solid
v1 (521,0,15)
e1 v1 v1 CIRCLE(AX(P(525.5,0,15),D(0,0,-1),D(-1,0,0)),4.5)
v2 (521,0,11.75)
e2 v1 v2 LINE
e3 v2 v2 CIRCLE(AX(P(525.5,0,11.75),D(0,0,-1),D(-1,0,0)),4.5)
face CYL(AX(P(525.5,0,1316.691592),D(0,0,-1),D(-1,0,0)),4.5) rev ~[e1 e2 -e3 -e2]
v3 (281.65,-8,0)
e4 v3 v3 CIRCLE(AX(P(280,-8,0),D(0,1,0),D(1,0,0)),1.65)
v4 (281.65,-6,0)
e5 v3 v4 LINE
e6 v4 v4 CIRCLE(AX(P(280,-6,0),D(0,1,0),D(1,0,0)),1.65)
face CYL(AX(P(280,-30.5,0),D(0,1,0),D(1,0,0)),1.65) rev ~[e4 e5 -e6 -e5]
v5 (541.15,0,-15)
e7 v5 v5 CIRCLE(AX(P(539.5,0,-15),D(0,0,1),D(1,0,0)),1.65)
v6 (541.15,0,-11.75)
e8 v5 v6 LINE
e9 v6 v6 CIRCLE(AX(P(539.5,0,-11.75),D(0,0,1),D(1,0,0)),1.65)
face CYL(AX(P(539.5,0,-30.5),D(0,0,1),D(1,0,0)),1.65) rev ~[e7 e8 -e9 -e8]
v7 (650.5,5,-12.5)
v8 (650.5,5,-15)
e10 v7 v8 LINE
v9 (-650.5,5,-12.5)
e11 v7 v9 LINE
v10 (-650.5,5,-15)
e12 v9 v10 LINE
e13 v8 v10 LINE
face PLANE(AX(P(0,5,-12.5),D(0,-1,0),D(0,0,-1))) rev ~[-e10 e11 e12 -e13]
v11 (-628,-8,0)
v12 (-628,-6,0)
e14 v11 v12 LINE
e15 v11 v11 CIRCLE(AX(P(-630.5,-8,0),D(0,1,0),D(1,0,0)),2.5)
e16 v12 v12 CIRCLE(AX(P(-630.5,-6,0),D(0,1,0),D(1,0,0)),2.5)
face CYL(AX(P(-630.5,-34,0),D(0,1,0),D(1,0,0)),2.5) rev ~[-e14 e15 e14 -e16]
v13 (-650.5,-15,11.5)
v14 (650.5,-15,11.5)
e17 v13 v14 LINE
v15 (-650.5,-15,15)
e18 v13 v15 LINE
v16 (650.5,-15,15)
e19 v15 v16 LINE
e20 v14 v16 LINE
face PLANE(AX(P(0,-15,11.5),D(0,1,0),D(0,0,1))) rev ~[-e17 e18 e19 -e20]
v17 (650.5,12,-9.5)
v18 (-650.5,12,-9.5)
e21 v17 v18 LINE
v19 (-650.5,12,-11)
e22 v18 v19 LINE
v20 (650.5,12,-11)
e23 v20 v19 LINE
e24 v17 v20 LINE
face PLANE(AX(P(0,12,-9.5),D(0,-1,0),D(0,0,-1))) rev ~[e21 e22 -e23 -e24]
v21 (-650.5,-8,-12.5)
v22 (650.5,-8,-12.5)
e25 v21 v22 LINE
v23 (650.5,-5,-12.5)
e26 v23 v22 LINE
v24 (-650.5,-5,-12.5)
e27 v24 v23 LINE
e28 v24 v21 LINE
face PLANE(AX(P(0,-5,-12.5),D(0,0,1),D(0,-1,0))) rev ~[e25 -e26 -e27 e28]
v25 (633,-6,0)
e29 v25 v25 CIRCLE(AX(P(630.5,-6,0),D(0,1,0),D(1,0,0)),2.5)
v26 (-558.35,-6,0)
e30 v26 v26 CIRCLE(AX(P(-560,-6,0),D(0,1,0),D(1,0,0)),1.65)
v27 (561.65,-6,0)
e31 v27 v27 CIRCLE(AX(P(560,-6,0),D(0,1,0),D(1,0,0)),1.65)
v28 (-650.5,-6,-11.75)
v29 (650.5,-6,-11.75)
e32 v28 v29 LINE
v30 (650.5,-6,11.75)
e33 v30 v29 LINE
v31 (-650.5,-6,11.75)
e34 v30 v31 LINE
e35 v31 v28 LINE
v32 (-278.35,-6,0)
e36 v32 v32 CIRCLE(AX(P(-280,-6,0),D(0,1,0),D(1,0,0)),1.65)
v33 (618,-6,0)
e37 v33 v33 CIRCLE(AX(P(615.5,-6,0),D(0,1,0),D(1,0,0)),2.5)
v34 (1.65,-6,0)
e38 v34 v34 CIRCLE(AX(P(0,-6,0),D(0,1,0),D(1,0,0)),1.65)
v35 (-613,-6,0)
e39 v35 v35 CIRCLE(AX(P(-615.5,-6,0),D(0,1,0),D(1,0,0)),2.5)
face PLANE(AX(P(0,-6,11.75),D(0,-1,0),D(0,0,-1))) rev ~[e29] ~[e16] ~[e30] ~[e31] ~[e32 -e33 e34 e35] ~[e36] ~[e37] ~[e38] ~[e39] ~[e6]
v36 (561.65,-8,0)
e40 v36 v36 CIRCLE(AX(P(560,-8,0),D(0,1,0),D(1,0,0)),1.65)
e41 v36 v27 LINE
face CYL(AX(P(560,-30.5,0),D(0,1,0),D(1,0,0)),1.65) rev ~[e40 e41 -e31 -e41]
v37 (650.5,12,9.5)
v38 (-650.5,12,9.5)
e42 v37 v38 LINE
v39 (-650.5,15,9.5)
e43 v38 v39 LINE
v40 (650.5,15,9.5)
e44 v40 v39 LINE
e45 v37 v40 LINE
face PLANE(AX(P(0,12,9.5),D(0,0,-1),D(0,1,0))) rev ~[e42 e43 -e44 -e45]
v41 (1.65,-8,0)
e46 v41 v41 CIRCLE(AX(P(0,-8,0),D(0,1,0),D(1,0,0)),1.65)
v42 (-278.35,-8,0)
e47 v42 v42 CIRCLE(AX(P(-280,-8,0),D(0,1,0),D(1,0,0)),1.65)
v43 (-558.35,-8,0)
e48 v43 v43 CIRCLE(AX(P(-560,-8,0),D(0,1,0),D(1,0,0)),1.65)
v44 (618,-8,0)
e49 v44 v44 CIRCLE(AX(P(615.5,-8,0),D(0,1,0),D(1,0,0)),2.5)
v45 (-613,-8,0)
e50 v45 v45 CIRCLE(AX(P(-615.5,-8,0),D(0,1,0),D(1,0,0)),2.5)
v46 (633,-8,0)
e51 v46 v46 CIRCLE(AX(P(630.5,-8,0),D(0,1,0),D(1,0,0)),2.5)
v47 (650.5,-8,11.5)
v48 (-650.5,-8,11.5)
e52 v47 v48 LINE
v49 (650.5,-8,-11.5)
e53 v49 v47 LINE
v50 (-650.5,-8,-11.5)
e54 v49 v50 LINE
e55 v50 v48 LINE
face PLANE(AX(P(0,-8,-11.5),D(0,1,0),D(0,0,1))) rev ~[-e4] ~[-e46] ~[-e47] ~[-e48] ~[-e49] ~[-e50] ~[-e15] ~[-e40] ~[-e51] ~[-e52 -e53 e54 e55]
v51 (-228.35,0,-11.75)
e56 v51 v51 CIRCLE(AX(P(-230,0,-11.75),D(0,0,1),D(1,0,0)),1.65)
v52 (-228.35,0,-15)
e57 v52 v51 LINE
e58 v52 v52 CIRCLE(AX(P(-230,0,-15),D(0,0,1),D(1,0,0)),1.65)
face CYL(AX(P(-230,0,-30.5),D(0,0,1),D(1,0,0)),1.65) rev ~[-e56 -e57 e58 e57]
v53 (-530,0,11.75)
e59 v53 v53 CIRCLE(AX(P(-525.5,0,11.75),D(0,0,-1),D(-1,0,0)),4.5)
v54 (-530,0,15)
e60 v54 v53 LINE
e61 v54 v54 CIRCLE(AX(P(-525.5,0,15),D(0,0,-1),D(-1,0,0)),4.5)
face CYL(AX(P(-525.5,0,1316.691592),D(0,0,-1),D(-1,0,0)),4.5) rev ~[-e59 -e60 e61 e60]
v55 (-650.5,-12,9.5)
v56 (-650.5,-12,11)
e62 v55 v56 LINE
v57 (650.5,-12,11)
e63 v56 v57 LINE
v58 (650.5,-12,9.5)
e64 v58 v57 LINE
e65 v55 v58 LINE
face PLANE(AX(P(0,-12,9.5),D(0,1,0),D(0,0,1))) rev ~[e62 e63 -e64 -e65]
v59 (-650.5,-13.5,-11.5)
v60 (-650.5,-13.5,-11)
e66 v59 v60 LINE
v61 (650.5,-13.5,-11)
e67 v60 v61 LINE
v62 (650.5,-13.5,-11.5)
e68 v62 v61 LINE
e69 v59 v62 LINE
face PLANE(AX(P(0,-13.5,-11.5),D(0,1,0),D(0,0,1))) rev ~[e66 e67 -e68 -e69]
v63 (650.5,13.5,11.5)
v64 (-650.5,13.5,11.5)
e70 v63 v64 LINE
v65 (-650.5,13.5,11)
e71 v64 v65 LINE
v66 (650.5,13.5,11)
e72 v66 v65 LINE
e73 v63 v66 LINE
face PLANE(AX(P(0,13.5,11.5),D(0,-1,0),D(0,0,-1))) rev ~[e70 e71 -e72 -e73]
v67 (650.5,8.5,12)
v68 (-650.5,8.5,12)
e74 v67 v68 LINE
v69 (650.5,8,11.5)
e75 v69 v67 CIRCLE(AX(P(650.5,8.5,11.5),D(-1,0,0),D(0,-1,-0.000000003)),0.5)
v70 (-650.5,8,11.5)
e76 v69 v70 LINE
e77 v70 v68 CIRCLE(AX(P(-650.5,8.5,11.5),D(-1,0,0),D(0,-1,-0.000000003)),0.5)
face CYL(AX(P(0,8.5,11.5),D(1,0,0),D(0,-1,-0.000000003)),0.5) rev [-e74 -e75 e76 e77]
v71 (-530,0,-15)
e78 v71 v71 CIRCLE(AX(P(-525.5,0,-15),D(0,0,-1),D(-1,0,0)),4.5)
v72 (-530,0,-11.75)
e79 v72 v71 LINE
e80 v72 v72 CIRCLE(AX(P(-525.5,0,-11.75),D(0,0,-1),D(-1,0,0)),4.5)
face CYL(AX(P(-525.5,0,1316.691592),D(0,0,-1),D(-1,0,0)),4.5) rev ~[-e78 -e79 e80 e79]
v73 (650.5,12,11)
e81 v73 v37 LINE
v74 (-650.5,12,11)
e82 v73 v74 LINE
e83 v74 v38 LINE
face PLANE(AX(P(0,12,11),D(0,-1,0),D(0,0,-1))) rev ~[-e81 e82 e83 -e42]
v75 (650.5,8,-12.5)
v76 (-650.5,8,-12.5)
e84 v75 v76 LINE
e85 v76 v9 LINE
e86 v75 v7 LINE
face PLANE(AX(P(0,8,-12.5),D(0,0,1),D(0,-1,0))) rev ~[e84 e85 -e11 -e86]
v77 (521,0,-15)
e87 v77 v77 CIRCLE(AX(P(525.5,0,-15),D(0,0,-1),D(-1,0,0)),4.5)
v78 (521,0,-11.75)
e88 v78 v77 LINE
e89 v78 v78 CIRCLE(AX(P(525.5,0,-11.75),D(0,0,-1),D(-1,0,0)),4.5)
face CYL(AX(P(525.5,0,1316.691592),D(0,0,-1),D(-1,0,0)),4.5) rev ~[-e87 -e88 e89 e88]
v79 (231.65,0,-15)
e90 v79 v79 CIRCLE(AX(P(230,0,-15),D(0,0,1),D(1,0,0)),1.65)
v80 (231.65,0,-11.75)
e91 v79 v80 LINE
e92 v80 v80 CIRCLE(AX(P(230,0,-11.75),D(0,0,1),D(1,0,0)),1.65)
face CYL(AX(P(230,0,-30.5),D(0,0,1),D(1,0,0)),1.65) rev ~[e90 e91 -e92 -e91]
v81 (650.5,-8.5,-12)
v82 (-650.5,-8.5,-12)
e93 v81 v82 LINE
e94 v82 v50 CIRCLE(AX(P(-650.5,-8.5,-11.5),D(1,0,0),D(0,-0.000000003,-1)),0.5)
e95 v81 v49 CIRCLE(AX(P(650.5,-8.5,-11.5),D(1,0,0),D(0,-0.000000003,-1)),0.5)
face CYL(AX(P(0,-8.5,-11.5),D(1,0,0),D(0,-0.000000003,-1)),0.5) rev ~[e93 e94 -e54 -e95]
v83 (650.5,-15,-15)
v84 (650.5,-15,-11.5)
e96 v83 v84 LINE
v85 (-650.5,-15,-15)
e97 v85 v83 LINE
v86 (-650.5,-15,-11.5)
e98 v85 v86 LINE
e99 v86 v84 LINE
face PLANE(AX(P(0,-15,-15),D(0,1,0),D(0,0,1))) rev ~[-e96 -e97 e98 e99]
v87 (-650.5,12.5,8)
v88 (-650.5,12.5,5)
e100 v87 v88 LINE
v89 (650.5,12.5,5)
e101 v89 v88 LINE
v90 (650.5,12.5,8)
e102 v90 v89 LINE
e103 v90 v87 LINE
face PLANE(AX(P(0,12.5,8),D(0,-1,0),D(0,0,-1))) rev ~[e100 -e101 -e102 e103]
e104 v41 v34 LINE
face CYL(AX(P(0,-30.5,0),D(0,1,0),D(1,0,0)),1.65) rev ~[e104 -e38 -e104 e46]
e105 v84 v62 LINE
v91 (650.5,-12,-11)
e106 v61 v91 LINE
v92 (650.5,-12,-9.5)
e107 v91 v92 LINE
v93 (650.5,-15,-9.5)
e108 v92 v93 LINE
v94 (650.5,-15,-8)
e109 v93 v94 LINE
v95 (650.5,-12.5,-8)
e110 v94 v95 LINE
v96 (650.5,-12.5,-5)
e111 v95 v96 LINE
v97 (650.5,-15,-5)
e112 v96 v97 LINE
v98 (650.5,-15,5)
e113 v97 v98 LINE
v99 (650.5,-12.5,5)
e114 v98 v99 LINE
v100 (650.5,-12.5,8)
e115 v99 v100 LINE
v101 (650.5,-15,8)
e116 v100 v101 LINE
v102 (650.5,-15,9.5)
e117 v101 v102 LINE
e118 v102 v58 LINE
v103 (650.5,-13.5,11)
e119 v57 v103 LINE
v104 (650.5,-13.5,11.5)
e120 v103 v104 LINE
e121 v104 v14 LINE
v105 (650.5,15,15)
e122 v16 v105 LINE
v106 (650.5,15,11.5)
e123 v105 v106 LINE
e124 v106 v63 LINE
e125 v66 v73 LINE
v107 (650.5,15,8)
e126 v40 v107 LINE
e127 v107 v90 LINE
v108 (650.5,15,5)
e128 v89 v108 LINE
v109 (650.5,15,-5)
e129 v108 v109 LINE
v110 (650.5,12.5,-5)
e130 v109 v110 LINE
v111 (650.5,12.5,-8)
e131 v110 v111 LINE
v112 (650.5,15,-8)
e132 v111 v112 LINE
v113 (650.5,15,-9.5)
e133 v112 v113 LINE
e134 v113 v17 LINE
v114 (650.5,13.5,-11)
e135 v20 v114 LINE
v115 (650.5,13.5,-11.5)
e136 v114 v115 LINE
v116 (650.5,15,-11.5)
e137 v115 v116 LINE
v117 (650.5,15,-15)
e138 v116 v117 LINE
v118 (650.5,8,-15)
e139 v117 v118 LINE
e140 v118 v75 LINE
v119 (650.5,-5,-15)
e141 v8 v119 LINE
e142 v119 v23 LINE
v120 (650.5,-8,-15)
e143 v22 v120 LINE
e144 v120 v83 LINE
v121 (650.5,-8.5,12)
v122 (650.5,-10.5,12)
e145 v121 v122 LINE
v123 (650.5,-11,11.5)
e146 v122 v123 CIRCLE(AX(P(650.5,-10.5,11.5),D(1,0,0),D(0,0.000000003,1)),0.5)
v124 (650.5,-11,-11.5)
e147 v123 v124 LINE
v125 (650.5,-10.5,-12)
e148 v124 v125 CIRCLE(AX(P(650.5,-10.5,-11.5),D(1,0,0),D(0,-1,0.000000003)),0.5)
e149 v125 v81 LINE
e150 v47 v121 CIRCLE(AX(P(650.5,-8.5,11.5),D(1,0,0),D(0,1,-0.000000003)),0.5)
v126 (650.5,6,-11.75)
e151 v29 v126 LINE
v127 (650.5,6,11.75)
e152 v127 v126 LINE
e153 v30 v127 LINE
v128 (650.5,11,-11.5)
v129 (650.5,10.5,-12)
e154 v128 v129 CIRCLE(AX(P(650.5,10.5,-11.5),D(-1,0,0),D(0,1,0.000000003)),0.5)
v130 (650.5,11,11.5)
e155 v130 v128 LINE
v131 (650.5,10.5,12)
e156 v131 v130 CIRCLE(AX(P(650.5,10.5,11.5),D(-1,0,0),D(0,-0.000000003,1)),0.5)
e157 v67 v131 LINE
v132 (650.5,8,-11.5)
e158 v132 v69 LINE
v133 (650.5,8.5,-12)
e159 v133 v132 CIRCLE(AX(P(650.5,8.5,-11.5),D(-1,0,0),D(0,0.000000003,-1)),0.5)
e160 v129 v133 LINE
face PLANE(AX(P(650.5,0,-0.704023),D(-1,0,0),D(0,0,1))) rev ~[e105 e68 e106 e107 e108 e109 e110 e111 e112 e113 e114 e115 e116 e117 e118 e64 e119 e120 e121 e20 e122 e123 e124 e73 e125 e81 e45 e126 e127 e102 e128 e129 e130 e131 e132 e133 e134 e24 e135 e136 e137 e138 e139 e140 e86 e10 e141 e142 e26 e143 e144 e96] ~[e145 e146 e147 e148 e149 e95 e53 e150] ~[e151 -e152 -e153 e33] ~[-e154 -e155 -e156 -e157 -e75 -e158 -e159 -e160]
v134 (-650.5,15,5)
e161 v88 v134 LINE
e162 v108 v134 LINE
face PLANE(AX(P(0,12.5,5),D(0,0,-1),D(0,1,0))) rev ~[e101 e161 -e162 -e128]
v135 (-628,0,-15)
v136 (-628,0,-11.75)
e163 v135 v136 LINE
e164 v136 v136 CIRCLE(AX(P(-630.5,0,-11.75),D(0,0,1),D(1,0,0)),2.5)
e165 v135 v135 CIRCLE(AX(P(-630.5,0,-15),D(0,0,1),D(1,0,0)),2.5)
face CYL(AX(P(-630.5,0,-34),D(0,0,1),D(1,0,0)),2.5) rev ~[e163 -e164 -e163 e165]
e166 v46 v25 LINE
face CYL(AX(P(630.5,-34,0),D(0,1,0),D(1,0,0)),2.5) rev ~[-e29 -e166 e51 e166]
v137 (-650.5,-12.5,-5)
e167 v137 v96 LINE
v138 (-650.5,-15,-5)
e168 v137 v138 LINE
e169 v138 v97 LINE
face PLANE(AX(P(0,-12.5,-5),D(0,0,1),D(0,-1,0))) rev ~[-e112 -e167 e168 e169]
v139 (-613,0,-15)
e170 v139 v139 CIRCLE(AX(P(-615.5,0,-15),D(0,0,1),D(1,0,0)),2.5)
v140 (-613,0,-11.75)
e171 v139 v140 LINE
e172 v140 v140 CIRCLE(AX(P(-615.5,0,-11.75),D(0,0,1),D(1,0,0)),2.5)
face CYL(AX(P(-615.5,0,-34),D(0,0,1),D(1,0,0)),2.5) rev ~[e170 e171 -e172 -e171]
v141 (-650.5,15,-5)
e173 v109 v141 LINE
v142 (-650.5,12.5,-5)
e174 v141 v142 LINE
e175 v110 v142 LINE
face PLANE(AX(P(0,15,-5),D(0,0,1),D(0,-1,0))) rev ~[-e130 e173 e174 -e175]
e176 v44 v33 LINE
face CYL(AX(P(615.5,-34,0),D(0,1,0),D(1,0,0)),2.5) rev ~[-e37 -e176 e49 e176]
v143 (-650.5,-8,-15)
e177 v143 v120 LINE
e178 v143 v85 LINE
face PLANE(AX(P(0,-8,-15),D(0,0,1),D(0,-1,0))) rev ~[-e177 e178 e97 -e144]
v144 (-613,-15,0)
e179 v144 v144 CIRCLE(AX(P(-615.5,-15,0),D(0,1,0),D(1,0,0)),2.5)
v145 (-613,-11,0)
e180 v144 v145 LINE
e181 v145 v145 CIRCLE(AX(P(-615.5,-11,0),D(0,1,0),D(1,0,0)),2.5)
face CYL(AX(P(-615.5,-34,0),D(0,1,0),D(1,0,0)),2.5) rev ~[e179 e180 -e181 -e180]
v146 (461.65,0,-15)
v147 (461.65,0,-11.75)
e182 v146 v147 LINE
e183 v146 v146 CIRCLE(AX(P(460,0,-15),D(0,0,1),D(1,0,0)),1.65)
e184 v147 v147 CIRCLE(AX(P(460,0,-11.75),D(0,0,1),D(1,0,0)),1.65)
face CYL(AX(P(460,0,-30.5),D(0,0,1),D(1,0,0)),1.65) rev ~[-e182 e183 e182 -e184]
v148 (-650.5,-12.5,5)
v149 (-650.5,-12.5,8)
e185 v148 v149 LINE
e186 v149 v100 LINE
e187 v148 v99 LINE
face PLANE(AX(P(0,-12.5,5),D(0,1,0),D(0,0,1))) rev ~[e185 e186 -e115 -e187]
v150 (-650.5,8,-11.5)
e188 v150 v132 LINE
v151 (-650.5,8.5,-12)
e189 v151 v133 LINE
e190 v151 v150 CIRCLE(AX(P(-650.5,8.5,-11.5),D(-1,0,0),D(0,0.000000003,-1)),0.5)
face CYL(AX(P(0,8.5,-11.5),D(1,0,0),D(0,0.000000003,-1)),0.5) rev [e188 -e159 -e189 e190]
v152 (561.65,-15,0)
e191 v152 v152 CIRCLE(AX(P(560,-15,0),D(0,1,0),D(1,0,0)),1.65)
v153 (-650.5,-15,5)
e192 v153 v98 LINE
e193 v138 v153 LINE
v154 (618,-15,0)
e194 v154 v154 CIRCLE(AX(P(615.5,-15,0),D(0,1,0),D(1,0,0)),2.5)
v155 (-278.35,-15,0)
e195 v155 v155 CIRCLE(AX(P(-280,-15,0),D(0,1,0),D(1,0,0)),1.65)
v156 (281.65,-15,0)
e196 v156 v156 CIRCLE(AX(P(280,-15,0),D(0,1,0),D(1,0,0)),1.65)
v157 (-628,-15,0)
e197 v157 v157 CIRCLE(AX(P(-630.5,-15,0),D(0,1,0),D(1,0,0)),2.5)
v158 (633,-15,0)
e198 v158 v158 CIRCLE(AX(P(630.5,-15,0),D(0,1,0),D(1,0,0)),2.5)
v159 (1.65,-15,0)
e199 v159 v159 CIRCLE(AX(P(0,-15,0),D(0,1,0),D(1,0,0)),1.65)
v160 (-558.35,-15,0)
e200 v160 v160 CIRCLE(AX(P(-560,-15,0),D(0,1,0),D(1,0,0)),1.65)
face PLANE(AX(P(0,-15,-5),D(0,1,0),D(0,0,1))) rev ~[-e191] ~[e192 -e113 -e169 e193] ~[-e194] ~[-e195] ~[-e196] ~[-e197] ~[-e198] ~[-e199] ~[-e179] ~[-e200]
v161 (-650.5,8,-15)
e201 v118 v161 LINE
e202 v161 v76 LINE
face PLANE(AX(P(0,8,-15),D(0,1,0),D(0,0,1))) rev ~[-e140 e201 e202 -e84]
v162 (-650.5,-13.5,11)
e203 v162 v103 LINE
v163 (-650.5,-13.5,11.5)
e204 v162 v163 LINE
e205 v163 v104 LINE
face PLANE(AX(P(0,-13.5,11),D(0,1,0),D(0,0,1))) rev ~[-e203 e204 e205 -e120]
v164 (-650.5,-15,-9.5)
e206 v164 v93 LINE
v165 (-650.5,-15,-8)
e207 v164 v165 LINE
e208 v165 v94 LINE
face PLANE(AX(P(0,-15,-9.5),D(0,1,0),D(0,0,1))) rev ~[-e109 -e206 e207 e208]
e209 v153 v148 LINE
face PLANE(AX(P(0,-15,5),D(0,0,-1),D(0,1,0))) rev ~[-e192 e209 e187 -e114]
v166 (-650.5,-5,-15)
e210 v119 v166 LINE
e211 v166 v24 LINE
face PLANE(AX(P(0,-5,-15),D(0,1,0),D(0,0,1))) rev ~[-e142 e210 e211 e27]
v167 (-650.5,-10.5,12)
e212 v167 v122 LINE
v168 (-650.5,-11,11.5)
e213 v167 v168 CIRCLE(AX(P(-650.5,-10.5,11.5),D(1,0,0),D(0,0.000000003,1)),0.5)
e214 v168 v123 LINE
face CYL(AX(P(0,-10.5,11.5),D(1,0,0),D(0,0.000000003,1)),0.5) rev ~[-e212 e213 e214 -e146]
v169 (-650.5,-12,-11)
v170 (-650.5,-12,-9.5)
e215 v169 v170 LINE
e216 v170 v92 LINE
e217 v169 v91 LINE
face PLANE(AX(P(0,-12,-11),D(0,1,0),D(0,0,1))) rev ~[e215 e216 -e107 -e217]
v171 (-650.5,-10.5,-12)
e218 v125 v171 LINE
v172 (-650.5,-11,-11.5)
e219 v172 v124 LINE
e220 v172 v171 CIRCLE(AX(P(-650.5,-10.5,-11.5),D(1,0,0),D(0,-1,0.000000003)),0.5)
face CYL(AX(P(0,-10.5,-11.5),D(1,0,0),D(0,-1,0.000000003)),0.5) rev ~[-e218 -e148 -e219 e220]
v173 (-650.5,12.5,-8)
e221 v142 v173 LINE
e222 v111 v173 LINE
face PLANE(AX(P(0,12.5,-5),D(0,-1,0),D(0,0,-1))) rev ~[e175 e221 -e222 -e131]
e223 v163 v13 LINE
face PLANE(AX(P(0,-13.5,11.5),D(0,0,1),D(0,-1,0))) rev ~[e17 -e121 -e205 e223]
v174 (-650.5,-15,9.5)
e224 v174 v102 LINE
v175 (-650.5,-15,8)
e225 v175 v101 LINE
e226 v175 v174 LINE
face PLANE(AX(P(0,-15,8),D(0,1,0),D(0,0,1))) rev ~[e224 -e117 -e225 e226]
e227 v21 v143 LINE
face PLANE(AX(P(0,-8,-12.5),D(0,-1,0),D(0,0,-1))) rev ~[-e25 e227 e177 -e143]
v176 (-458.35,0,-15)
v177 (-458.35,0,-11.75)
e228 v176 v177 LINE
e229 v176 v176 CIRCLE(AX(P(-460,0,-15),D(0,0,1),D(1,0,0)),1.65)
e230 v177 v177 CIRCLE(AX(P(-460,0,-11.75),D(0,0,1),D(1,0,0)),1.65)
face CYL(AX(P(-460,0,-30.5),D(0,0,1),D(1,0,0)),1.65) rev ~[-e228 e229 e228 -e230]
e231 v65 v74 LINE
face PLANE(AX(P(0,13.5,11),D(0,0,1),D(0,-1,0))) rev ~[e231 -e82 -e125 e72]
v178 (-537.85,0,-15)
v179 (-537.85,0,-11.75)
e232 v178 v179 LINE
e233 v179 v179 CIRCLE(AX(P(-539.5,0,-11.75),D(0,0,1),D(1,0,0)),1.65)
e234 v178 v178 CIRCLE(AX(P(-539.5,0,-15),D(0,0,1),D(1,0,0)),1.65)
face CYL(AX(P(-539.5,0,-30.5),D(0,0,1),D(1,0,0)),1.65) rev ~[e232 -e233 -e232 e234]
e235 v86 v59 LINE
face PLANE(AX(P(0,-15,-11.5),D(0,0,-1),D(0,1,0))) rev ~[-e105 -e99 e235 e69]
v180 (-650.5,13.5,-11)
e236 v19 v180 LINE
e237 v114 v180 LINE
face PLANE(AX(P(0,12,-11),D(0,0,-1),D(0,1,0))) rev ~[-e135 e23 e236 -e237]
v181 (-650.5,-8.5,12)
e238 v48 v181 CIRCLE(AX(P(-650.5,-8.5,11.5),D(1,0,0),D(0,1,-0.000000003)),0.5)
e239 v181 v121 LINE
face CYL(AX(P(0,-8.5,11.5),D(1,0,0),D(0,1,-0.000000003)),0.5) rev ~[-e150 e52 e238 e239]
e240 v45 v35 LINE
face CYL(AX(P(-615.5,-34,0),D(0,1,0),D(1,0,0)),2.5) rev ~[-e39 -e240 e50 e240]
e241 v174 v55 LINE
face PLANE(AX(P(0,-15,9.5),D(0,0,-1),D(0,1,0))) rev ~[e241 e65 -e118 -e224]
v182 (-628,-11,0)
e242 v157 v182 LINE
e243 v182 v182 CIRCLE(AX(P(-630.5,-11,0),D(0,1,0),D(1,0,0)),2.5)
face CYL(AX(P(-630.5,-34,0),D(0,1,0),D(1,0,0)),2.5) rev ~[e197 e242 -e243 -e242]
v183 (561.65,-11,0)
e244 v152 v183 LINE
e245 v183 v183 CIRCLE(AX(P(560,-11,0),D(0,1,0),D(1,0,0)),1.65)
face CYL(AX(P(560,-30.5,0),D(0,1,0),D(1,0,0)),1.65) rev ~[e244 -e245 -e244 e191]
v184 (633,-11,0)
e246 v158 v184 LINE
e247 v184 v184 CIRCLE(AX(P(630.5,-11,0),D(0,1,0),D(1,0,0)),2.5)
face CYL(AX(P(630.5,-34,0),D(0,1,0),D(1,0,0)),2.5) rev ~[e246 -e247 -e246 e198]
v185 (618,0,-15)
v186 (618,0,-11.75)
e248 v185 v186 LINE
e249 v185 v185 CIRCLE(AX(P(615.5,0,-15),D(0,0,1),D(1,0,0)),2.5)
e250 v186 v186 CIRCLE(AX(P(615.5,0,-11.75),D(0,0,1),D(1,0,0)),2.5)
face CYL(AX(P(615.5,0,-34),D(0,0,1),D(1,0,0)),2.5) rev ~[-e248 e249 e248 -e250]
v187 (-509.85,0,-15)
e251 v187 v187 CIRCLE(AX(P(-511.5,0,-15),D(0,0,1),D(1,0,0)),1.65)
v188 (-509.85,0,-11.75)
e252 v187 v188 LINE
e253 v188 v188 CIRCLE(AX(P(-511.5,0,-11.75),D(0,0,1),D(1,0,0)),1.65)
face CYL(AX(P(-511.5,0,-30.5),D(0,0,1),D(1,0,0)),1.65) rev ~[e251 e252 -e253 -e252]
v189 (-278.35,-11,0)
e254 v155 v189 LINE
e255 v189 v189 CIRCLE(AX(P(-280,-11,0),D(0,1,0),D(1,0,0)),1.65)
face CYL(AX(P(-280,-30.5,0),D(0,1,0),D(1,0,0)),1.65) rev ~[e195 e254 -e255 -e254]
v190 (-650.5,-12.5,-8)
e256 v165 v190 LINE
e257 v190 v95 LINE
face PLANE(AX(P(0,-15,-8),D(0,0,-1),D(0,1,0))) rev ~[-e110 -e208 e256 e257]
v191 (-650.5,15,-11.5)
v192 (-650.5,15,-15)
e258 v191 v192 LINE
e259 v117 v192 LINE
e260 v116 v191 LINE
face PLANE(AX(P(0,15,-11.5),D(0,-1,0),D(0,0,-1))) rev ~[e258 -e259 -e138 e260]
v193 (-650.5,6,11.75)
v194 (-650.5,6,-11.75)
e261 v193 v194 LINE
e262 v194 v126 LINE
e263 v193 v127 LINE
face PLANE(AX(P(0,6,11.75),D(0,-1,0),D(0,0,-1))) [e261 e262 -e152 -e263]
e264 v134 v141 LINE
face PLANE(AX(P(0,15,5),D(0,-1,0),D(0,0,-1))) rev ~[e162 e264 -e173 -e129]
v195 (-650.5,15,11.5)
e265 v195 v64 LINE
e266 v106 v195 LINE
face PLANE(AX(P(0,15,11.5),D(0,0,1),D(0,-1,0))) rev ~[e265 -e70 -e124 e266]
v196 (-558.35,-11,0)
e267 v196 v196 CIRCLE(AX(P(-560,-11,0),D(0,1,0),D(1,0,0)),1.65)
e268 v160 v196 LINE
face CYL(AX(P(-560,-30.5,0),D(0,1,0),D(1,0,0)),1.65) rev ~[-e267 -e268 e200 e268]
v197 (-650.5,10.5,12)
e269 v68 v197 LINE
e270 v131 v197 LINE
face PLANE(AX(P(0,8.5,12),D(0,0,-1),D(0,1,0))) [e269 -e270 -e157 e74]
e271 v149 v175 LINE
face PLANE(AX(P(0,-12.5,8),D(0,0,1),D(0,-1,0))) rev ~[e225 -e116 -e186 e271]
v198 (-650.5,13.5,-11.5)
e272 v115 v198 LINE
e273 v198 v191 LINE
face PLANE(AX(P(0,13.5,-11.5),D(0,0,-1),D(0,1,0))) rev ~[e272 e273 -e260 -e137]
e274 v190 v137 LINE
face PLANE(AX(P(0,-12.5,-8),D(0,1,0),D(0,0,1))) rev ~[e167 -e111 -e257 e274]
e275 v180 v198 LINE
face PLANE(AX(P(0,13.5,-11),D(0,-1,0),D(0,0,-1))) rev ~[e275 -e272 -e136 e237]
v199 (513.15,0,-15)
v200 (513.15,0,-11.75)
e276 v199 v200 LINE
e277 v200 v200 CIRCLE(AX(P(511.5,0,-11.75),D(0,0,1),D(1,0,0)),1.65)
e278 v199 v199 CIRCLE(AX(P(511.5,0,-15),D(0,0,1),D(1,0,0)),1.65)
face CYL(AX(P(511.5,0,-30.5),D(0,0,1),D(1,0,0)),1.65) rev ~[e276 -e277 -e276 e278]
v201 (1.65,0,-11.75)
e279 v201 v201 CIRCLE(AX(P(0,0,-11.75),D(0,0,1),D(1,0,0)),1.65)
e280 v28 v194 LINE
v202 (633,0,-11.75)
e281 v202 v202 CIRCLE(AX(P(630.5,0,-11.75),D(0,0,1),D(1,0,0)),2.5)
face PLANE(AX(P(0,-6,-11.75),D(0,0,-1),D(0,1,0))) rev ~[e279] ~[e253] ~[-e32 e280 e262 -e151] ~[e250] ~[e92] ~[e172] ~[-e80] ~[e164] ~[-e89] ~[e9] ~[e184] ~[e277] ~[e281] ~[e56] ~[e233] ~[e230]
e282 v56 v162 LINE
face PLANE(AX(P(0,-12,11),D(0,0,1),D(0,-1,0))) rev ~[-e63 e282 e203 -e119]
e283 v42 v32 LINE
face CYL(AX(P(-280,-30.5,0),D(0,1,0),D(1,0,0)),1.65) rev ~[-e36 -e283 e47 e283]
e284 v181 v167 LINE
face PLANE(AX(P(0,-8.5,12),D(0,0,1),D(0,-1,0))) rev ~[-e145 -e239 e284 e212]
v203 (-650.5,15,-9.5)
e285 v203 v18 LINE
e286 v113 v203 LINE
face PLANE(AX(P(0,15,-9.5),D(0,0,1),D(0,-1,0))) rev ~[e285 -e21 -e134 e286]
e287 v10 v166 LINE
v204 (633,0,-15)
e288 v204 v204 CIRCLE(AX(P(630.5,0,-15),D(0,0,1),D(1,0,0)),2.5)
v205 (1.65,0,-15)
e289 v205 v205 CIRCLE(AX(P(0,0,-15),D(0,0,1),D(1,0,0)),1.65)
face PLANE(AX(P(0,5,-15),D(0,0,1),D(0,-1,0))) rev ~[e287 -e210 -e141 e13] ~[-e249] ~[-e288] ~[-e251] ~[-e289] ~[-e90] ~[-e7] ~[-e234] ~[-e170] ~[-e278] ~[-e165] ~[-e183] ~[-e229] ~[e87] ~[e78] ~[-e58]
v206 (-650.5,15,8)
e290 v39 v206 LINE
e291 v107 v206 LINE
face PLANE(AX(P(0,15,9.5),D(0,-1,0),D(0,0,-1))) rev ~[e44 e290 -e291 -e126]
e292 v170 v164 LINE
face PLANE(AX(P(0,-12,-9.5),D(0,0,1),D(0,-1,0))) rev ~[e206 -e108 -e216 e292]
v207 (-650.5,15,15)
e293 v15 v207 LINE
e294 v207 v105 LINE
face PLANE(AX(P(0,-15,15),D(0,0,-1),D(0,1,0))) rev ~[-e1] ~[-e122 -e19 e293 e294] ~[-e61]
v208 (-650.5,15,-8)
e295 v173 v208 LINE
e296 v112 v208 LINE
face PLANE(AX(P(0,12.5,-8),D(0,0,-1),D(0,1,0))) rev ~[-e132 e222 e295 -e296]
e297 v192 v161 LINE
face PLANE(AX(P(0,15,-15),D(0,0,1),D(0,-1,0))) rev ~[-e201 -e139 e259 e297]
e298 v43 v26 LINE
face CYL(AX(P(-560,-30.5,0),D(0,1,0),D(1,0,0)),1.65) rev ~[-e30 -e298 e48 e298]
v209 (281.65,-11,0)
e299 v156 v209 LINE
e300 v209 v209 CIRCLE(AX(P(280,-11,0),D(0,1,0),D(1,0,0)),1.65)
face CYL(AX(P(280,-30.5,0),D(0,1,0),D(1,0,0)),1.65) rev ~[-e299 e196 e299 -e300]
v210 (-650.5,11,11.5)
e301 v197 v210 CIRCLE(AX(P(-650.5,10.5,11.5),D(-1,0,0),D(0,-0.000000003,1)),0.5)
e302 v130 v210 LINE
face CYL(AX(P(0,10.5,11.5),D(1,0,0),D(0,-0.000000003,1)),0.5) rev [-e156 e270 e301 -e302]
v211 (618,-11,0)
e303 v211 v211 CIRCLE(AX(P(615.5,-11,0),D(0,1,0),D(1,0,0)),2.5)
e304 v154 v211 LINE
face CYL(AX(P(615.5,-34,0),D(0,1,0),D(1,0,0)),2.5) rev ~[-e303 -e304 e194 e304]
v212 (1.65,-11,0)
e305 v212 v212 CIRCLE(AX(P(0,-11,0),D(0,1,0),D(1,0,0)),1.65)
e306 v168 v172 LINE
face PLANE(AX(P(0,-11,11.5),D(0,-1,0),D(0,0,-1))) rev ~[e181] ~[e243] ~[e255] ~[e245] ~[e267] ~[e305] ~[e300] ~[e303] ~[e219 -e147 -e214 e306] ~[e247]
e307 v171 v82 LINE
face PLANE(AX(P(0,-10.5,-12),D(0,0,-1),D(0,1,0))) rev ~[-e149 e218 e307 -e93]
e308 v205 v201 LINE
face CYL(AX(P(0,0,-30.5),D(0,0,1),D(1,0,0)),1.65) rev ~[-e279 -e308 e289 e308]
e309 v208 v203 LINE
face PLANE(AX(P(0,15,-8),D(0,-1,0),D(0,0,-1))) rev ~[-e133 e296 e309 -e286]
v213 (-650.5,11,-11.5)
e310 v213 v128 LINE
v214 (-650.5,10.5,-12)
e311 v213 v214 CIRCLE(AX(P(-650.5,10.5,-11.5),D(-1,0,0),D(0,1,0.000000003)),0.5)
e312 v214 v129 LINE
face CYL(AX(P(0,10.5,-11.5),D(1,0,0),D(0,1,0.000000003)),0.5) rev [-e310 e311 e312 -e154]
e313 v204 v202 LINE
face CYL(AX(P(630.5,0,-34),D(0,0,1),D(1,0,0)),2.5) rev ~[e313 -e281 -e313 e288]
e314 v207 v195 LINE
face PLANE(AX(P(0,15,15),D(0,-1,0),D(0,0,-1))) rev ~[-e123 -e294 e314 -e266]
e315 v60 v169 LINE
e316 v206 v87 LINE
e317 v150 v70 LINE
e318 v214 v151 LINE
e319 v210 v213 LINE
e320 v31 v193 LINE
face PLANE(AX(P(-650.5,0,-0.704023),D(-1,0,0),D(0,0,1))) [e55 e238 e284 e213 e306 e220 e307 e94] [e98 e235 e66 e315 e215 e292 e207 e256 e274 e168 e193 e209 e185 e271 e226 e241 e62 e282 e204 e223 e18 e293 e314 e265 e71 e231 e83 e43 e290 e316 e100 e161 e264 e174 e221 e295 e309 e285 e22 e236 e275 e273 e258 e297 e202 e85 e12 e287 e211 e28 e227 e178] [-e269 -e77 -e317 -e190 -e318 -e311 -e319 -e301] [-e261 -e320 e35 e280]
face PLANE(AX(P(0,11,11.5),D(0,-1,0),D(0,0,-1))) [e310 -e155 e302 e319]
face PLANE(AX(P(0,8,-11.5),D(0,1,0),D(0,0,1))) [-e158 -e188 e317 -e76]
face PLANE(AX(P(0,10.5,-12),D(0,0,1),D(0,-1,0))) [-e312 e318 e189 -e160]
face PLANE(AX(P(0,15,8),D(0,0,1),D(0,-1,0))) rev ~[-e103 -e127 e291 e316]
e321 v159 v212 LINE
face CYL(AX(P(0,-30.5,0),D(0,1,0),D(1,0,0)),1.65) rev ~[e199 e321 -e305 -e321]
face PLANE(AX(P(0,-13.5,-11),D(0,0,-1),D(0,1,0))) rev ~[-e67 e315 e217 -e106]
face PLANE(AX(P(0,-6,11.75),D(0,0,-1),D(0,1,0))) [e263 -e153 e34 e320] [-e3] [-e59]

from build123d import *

# Parameters (mm, degrees)
SKETCH_1_W             = 23.5
SKETCH_1_H             = 12
EXTRUDE_1_DEPTH        = 650.5
HOLE_WIZARD_M6_1_D     = 5
HOLE_WIZARD_M6_1_DEPTH = 19
HOLE_WIZARD_M6_1_TIP   = 1.502151548
HOLE_WIZARD_M6_2_D     = 5
HOLE_WIZARD_M6_2_DEPTH = 19
HOLE_WIZARD_M6_2_TIP   = 1.502151548
HOLE_WIZARD_M4_1_D     = 3.3
HOLE_WIZARD_M4_1_DEPTH = 15.5
HOLE_WIZARD_M4_1_TIP   = 0.991420021
HOLE_WIZARD_9_0_9_1_D  = 9
HOLE_WIZARD_M4_2_D     = 3.3
HOLE_WIZARD_M4_2_DEPTH = 15.5
HOLE_WIZARD_M4_2_TIP   = 0.991420021


with BuildPart() as part:
    # 草图1 → 凸台-拉伸1 (new, symmetric)
    with BuildSketch(Plane(origin=(0, 0, 0), x_dir=(0, 0, -1), z_dir=(1, 0, 0))):
        Polygon((-15, 15), (-11.5, 15), (-11.5, 13.5), (-11, 13.5), (-11, 12), (-9.5, 12), (-9.5, 15), (-8, 15), (-8, 12.5), (-5, 12.5), (-5, 15), (5, 15), (5, 12.5), (8, 12.5), (8, 15), (9.5, 15), (9.5, 12), (11, 12), (11, 13.5), (11.5, 13.5), (11.5, 15), (15, 15), (15, 8), (12.5, 8), (12.5, 5), (15, 5), (15, -5), (12.5, -5), (12.5, -8), (15, -8), (15, -15), (11.5, -15), (11.5, -13.5), (11, -13.5), (11, -12), (9.5, -12), (9.5, -15), (8, -15), (8, -12.5), (5, -12.5), (5, -15), (-5, -15), (-5, -12.5), (-8, -12.5), (-8, -15), (-9.5, -15), (-9.5, -12), (-11, -12), (-11, -13.5), (-11.5, -13.5), (-11.5, -15), (-15, -15), align=None)
        with BuildLine():
            Line((12, -10.5), (12, -8.5))
            ThreePointArc((12, -8.5), (11.853553391, -8.146446609), (11.5, -8))
            Line((11.5, -8), (-11.5, -8))
            ThreePointArc((-11.5, -8), (-11.853553391, -8.146446609), (-12, -8.5))
            Line((-12, -8.5), (-12, -10.5))
            ThreePointArc((-12, -10.5), (-11.853553391, -10.853553391), (-11.5, -11))
            Line((-11.5, -11), (11.5, -11))
            ThreePointArc((11.5, -11), (11.853553391, -10.853553391), (12, -10.5))
        make_face(mode=Mode.SUBTRACT)
        with BuildLine():
            Line((-11.5, 11), (11.5, 11))
            ThreePointArc((11.5, 11), (11.853553391, 10.853553391), (12, 10.5))
            Line((12, 10.5), (12, 8.5))
            ThreePointArc((12, 8.5), (11.853553391, 8.146446609), (11.5, 8))
            Line((11.5, 8), (-11.5, 8))
            ThreePointArc((-11.5, 8), (-11.853553391, 8.146446609), (-12, 8.5))
            Line((-12, 8.5), (-12, 10.5))
            ThreePointArc((-12, 10.5), (-11.853553391, 10.853553391), (-11.5, 11))
        make_face(mode=Mode.SUBTRACT)
        Rectangle(SKETCH_1_W, SKETCH_1_H, mode=Mode.SUBTRACT)
    extrude(amount=EXTRUDE_1_DEPTH, both=True)

    # M6 螺纹孔1
    with Locations(Plane(origin=(0, -15, 0), x_dir=(-1, 0, 0), z_dir=(0, -1, 0))):
        with Locations((630.5, 0), (615.5, 0), (-615.5, 0), (-630.5, 0)):
            Hole(HOLE_WIZARD_M6_1_D / 2, depth=HOLE_WIZARD_M6_1_DEPTH)
            with Locations((0, 0, -(HOLE_WIZARD_M6_1_DEPTH + HOLE_WIZARD_M6_1_TIP / 2))):  # 118° drill point
                Cone(0, HOLE_WIZARD_M6_1_D / 2, HOLE_WIZARD_M6_1_TIP, mode=Mode.SUBTRACT)

    # M6 螺纹孔2
    with Locations(Plane(origin=(0, 0, -15), x_dir=(-1, 0, 0), z_dir=(0, 0, -1))):
        with Locations((-630.5, 0), (-615.5, 0), (630.5, 0), (615.5, 0)):
            Hole(HOLE_WIZARD_M6_2_D / 2, depth=HOLE_WIZARD_M6_2_DEPTH)
            with Locations((0, 0, -(HOLE_WIZARD_M6_2_DEPTH + HOLE_WIZARD_M6_2_TIP / 2))):  # 118° drill point
                Cone(0, HOLE_WIZARD_M6_2_D / 2, HOLE_WIZARD_M6_2_TIP, mode=Mode.SUBTRACT)

    # M4 螺纹孔1
    with Locations(Plane(origin=(0, -15, 0), x_dir=(-1, 0, 0), z_dir=(0, -1, 0))):
        with Locations((560, 0), (280, 0), (0, 0), (-280, 0), (-560, 0)):
            Hole(HOLE_WIZARD_M4_1_D / 2, depth=HOLE_WIZARD_M4_1_DEPTH)
            with Locations((0, 0, -(HOLE_WIZARD_M4_1_DEPTH + HOLE_WIZARD_M4_1_TIP / 2))):  # 118° drill point
                Cone(0, HOLE_WIZARD_M4_1_D / 2, HOLE_WIZARD_M4_1_TIP, mode=Mode.SUBTRACT)

    # Ø9.0 (9) 直径孔1 (through all)
    with Locations(Plane.XY.offset(15)):
        with Locations((525.5, 0), (-525.5, 0)):
            Hole(HOLE_WIZARD_9_0_9_1_D / 2)

    # M4 螺纹孔2
    with Locations(Plane(origin=(0, 0, -15), x_dir=(-1, 0, 0), z_dir=(0, 0, -1))):
        with Locations((-460, 0), (-230, 0), (0, 0), (230, 0), (460, 0), (-511.5, 0), (-539.5, 0), (539.5, 0), (511.5, 0)):
            Hole(HOLE_WIZARD_M4_2_D / 2, depth=HOLE_WIZARD_M4_2_DEPTH)
            with Locations((0, 0, -(HOLE_WIZARD_M4_2_DEPTH + HOLE_WIZARD_M4_2_TIP / 2))):  # 118° drill point
                Cone(0, HOLE_WIZARD_M4_2_D / 2, HOLE_WIZARD_M4_2_TIP, mode=Mode.SUBTRACT)


solid = part.part
